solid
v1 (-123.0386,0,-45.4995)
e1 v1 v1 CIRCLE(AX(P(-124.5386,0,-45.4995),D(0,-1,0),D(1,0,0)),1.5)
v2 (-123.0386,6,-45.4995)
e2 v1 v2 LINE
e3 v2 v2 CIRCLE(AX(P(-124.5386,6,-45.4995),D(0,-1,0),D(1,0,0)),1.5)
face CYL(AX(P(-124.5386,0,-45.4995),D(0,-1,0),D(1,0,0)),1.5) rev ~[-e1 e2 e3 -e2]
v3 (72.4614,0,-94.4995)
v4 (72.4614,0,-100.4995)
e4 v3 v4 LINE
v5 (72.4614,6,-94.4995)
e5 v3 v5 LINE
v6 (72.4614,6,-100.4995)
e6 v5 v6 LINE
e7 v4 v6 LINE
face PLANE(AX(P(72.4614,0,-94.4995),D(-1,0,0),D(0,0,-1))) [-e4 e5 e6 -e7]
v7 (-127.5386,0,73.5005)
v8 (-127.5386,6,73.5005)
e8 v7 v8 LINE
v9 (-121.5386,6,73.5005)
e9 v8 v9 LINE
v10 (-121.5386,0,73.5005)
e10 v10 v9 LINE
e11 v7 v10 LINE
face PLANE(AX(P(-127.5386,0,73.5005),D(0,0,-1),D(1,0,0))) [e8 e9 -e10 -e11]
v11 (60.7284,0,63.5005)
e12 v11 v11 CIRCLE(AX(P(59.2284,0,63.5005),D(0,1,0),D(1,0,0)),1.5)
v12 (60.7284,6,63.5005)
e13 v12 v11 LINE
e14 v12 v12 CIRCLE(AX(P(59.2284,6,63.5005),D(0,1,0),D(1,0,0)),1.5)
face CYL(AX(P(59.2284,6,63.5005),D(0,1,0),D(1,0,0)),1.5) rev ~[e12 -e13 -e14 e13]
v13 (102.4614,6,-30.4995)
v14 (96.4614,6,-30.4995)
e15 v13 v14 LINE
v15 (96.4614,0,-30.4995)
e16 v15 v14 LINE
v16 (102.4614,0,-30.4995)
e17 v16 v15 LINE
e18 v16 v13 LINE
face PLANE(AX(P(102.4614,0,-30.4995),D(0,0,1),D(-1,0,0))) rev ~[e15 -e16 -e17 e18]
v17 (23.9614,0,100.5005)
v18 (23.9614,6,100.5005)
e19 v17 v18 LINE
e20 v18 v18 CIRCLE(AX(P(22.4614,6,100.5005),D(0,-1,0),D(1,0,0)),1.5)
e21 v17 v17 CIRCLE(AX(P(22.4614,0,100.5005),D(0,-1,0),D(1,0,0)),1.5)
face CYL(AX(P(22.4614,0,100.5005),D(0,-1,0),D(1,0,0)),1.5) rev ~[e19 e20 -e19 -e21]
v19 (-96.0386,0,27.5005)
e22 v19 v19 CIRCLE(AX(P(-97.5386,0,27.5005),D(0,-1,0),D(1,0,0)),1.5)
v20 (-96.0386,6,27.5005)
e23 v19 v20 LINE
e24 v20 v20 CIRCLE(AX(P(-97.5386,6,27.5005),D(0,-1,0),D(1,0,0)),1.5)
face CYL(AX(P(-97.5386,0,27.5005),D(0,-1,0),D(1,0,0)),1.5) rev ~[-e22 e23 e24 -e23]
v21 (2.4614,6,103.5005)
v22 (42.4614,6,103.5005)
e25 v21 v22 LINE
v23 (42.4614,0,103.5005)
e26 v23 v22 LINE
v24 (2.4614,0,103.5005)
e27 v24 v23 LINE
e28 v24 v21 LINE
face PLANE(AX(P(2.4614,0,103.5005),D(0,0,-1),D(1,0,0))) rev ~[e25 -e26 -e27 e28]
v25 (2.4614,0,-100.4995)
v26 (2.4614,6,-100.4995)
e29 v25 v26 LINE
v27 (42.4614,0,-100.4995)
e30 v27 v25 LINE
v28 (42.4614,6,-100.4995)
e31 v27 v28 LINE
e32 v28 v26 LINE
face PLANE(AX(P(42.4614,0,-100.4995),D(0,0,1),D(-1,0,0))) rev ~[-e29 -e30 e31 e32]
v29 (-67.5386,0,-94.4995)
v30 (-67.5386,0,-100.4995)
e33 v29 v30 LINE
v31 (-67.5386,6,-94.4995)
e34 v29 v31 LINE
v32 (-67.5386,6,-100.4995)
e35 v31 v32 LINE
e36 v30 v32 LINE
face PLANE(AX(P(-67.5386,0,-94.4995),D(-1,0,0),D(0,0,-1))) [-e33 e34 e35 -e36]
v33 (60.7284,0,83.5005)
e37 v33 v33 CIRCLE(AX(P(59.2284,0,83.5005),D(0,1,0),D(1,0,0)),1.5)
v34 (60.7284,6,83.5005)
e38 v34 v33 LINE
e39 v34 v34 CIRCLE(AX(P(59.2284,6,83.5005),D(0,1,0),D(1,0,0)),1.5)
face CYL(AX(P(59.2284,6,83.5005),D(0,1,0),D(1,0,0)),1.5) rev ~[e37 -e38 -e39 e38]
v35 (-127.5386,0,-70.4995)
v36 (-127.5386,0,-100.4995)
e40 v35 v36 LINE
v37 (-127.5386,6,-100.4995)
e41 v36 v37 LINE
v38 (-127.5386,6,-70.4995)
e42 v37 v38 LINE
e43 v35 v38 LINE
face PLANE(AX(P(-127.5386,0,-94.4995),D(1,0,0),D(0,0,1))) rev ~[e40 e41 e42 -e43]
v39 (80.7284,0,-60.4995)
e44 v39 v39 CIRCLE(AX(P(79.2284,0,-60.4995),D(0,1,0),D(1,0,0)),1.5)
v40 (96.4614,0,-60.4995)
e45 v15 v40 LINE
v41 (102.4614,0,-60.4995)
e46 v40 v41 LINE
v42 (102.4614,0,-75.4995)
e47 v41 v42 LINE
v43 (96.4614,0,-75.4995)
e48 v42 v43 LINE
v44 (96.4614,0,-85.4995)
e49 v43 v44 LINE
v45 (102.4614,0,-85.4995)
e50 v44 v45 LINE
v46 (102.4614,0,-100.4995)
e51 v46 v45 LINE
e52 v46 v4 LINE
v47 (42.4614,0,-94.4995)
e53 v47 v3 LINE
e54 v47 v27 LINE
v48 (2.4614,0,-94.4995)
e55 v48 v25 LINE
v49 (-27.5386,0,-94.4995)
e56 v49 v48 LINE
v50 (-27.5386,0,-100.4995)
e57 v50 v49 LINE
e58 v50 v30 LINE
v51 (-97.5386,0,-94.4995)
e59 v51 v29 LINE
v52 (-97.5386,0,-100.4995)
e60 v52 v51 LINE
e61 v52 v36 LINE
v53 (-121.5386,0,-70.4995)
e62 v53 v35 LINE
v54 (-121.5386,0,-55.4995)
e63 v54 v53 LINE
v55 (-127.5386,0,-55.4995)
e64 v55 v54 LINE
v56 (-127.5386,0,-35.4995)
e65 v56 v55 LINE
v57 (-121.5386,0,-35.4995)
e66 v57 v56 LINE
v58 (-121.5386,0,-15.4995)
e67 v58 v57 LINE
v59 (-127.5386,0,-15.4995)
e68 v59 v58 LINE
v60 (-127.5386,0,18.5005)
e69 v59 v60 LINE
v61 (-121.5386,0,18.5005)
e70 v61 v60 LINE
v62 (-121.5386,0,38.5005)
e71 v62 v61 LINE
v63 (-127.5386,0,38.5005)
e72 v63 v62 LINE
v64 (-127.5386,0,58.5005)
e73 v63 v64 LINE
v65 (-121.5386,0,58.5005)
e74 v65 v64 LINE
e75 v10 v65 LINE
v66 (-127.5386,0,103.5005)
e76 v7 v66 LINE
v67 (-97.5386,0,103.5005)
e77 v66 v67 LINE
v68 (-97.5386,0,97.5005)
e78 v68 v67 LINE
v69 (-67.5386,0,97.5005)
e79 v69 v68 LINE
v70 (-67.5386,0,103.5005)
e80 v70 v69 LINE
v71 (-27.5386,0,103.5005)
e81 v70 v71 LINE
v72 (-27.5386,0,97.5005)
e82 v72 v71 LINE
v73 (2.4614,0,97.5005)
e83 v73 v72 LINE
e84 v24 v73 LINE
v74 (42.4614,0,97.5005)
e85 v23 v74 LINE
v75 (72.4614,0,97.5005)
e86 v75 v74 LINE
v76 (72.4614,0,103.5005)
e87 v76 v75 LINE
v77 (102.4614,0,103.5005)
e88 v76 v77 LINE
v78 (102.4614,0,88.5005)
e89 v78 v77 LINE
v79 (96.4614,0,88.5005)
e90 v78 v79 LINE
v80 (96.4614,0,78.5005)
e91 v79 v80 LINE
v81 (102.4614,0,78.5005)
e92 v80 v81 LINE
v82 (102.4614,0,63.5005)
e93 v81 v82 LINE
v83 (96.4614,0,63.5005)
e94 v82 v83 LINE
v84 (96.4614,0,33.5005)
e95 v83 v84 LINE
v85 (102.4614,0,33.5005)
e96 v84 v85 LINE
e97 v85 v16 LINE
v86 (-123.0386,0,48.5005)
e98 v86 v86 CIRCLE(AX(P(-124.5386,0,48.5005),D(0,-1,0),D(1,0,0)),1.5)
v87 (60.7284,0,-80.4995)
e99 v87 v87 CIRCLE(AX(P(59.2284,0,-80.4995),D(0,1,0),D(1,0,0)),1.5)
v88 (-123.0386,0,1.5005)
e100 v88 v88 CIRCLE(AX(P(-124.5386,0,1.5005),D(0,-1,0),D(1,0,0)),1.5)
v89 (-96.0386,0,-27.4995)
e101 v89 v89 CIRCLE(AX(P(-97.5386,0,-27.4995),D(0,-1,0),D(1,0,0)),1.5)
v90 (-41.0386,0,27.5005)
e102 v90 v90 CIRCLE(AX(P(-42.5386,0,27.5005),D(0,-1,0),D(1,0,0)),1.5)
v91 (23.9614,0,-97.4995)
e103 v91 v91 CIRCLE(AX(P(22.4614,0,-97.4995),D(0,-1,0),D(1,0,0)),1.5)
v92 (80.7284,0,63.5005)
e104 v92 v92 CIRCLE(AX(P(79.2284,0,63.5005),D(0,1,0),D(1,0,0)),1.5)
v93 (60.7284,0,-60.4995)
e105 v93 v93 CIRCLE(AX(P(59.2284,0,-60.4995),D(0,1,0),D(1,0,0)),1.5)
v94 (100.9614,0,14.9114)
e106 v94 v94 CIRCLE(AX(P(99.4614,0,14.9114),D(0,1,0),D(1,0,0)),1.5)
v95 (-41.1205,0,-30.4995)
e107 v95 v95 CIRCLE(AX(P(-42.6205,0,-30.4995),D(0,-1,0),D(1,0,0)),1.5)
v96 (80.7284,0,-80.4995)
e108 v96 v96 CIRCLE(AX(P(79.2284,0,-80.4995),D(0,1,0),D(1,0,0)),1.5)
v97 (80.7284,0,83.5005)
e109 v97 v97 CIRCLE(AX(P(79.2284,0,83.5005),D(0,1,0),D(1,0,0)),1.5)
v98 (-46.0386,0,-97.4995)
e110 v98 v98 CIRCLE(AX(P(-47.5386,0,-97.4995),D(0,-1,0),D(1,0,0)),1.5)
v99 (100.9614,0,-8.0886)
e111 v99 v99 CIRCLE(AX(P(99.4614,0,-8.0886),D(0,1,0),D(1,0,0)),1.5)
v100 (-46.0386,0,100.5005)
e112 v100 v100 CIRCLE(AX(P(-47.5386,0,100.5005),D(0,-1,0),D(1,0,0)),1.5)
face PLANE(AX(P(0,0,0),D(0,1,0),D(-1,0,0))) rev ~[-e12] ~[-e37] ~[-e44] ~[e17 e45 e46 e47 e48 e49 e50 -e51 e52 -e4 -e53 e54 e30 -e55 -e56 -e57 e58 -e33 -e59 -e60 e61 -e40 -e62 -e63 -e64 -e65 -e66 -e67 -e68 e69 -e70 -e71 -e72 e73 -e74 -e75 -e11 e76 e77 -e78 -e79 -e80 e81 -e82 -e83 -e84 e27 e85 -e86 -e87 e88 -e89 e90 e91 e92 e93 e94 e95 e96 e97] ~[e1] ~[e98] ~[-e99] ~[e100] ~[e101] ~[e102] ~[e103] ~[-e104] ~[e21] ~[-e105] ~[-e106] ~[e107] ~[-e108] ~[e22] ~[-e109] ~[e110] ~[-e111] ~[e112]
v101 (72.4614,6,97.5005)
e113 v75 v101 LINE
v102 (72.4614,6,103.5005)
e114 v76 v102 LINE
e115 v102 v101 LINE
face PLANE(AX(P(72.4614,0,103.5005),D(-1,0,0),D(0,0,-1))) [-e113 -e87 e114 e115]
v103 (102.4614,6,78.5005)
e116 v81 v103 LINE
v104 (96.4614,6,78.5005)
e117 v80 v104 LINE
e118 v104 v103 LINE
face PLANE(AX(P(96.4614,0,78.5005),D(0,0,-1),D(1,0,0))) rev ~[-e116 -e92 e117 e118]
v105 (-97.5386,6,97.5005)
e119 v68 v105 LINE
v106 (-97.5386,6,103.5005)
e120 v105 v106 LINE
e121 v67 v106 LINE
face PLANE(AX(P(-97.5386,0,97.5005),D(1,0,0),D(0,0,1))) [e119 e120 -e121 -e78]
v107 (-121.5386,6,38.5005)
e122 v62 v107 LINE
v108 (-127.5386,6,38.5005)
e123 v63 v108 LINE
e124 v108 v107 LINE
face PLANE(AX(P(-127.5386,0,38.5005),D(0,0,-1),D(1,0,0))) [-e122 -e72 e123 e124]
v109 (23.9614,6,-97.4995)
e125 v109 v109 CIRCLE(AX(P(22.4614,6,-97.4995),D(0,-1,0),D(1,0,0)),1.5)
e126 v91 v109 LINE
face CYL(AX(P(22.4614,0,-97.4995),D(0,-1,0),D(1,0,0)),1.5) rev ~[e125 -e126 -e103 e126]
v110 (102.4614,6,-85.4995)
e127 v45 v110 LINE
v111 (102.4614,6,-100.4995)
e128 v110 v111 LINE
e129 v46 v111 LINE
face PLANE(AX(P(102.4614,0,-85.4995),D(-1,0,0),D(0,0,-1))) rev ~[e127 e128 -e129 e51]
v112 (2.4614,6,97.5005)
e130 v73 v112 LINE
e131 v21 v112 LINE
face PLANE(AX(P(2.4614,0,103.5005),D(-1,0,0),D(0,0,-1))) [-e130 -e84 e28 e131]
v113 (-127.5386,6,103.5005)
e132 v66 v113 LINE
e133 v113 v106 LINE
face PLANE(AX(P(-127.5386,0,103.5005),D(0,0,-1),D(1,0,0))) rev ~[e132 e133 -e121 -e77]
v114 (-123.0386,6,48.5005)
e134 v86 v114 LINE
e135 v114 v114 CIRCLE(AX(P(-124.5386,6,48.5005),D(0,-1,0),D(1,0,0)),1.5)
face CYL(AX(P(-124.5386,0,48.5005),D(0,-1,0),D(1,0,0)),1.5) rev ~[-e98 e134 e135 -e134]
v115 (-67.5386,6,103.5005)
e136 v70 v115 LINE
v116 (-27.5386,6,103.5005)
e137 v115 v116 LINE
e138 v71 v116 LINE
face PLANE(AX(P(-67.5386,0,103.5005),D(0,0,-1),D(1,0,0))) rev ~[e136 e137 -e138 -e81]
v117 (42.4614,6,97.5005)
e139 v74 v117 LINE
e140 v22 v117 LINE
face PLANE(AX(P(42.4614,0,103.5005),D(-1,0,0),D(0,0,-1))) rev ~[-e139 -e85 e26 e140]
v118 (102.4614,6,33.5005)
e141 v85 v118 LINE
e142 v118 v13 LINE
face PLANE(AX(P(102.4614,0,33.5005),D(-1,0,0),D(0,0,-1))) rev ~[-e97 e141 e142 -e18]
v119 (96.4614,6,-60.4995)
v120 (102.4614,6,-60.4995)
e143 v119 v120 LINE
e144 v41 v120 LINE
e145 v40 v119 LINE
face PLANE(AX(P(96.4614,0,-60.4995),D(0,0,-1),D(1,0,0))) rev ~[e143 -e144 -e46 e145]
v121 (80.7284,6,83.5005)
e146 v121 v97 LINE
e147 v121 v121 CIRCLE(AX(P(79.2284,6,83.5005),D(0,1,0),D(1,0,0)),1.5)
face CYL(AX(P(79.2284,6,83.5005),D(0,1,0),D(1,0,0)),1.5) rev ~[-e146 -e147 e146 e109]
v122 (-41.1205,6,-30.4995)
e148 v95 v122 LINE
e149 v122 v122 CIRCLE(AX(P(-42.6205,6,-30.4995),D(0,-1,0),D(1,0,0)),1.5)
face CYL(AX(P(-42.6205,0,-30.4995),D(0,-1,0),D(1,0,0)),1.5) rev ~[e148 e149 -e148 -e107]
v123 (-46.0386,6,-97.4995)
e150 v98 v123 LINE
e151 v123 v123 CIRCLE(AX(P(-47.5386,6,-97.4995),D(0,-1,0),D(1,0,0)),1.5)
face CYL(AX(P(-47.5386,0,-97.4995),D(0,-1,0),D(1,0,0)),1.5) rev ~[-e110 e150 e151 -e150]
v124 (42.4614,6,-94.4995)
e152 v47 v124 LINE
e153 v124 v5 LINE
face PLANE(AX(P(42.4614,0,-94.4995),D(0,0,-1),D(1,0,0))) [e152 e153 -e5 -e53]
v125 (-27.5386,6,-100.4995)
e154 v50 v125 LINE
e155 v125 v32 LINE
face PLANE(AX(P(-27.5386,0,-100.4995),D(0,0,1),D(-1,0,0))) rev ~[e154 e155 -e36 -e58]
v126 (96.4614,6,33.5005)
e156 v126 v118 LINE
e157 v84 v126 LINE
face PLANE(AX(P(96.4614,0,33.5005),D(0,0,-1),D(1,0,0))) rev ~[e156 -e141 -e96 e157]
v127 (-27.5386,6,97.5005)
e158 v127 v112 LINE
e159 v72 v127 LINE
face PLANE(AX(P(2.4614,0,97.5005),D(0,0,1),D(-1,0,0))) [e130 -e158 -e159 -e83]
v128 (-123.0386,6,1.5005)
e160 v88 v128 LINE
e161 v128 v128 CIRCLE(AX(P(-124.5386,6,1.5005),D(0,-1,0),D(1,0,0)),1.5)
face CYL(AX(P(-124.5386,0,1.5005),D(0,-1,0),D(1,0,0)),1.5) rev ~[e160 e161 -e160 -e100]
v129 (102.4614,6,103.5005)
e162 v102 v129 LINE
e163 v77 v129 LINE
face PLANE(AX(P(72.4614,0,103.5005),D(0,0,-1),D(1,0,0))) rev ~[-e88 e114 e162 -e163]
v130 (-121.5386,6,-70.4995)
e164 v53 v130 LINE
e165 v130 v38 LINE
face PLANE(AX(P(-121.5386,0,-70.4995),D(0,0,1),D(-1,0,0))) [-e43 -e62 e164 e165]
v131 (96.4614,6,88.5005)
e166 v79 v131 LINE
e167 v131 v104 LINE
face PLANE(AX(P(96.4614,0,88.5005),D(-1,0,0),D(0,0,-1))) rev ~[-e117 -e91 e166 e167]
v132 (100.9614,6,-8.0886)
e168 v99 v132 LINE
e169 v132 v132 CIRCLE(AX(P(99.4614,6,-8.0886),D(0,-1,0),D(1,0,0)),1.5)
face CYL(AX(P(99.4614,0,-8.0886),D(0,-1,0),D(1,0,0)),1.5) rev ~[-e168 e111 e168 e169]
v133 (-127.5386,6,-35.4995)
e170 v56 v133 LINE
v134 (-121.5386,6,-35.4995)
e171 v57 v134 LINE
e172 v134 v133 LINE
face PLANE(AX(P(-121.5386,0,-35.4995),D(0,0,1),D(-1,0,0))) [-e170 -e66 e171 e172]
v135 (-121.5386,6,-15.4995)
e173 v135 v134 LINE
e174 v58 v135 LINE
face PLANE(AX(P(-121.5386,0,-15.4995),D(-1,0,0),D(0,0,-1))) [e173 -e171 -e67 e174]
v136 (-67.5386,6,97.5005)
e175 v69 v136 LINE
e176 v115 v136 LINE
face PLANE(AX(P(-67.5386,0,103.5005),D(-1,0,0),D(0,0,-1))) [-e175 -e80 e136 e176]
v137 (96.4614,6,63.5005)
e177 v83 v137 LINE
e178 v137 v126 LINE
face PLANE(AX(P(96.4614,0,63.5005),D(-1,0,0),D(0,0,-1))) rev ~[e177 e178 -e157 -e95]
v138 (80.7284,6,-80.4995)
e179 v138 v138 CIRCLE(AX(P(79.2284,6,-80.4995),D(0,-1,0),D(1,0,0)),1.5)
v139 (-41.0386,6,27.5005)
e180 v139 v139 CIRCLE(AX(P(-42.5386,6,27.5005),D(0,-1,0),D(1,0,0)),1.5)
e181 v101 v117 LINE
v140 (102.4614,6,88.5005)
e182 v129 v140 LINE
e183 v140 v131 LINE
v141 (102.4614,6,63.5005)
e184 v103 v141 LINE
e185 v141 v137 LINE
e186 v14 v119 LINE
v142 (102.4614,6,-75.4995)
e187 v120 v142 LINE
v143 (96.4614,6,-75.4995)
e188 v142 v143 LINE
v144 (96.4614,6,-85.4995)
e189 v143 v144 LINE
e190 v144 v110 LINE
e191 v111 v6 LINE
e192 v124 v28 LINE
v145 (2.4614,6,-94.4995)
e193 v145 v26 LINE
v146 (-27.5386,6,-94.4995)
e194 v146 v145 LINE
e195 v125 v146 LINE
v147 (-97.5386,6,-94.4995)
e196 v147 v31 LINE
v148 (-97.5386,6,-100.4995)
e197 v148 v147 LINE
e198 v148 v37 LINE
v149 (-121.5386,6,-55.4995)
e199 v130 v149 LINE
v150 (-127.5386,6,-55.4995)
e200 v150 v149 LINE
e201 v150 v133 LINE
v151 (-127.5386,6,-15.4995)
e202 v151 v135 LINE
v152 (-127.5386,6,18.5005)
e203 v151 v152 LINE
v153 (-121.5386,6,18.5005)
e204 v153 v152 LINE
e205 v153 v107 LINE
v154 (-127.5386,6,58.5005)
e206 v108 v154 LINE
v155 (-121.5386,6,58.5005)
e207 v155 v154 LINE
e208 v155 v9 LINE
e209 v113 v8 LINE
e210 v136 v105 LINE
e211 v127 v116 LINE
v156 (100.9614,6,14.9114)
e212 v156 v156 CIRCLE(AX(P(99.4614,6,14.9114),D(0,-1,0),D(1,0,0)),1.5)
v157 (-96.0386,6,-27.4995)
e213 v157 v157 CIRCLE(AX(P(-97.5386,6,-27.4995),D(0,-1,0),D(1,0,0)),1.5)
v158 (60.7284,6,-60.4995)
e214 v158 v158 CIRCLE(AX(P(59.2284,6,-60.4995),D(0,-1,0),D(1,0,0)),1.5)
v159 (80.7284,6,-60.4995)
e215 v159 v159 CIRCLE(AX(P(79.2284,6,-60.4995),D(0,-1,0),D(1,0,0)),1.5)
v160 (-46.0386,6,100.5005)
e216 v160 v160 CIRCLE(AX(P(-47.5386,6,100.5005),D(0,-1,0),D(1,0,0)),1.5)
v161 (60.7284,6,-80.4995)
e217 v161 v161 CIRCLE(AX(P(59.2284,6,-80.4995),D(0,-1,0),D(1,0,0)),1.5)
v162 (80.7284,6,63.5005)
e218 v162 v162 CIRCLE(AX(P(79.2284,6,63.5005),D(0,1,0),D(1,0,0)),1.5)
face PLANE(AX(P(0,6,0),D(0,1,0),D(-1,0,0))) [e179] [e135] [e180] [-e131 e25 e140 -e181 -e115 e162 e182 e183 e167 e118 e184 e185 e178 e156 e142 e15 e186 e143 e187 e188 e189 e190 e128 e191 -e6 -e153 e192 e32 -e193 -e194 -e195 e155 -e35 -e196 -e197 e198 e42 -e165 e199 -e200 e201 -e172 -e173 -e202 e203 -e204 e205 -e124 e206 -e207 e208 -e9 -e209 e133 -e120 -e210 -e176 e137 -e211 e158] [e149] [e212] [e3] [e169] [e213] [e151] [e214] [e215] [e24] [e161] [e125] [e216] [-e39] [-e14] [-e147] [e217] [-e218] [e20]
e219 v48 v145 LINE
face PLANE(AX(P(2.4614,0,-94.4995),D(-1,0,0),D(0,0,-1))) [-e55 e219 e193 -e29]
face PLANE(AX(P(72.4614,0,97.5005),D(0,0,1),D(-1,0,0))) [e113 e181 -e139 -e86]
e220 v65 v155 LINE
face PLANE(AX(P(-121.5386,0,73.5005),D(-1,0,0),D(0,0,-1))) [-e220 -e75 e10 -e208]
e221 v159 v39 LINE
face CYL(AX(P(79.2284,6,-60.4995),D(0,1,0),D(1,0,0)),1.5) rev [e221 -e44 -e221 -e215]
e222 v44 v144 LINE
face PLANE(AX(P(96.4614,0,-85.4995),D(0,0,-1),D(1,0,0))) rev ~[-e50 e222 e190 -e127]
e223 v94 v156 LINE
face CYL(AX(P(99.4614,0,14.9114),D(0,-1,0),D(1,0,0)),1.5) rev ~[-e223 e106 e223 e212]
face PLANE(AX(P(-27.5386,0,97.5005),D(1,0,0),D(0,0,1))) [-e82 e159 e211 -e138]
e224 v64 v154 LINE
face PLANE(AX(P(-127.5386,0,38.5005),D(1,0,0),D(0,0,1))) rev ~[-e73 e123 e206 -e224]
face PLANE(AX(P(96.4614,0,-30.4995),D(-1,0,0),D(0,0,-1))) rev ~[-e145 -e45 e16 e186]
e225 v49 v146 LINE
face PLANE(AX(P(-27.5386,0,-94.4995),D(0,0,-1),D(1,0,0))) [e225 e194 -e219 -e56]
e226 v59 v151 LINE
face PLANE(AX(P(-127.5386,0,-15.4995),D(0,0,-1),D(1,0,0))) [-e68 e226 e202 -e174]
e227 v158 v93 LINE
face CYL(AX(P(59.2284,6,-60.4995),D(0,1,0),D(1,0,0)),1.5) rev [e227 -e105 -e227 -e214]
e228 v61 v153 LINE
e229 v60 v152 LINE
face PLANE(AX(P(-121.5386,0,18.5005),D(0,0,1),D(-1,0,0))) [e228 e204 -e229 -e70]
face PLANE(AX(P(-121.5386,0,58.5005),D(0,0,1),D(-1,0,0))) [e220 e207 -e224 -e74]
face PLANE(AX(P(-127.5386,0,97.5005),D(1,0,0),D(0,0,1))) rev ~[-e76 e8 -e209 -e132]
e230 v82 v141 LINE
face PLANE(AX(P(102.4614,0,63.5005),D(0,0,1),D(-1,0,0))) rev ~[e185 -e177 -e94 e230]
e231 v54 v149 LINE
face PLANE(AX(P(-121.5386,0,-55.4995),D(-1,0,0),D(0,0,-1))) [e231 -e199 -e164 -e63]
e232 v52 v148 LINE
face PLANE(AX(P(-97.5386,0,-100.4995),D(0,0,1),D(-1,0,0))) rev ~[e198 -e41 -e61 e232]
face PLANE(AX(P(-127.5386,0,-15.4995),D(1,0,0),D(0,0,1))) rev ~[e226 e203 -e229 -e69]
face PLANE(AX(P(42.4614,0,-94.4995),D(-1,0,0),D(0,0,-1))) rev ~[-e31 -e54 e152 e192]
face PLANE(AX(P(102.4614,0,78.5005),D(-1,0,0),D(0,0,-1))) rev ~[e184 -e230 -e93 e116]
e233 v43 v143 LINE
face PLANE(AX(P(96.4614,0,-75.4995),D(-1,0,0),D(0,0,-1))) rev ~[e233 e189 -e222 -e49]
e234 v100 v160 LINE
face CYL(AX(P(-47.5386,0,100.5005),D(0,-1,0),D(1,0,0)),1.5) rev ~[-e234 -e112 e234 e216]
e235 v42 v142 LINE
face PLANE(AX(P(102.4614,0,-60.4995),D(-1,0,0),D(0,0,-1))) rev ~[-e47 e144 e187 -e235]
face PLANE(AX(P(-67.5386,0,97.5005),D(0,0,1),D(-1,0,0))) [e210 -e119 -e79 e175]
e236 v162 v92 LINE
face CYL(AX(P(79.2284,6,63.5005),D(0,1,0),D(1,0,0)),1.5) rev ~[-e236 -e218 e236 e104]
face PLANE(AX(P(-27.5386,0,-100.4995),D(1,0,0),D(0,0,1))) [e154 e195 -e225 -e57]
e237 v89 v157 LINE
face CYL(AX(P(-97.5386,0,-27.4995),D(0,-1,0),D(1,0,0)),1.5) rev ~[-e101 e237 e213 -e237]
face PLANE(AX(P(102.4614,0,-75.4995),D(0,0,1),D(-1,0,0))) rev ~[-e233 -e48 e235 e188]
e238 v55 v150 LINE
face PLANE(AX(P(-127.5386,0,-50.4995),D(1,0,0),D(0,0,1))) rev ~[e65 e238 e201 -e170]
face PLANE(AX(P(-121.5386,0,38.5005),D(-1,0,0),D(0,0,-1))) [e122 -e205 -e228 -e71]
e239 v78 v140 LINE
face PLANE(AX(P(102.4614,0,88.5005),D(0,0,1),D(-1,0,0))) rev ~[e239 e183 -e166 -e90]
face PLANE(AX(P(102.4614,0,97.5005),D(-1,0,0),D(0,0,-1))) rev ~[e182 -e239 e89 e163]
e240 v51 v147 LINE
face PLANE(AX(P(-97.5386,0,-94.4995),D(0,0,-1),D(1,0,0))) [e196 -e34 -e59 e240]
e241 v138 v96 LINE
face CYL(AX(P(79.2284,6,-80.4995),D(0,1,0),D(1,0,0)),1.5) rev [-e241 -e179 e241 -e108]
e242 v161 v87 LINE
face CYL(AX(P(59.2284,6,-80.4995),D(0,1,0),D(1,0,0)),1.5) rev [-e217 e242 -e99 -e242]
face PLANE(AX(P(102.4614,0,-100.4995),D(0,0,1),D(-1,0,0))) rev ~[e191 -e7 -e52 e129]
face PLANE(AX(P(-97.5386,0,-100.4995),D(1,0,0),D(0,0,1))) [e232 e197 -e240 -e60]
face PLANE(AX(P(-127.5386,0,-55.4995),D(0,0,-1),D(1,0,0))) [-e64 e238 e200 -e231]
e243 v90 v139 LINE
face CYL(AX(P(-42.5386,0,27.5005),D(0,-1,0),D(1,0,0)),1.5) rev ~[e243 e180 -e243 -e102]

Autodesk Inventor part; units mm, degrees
ref_plane "YZ Plane" through (0, 0, 0) normal (1, 0, 0) x (0, 1, 0)
ref_plane "XZ Plane" through (0, 0, 0) normal (0, 1, 0) x (-1, 0, 0)
ref_plane "XY Plane" through (0, 0, 0) normal (0, 0, 1) x (1, 0, 0)
sketch "Эскиз1" plane through (0, 0, 0) normal (0, 1, 0) x (-1, 0, 0)
  line L0 (127.5386, 103.5005) -> (-102.4614, 103.5005)
  line L1 (-102.4614, 103.5005) -> (-102.4614, -100.4995)
  line L2 (-102.4614, -100.4995) -> (127.5386, -100.4995)
  line L3 (127.5386, -100.4995) -> (127.5386, 103.5005)
  line L4 (127.5386, -100.4995) -> (97.5386, -100.4995)
  line L5 (97.5386, -100.4995) -> (97.5386, -94.4995)
  line L6 (97.5386, -94.4995) -> (127.5386, -94.4995)
  line L7 (127.5386, -94.4995) -> (127.5386, -100.4995)
  line L8 (97.5386, -94.4995) -> (67.5386, -94.4995)
  line L9 (67.5386, -94.4995) -> (67.5386, -100.4995)
  line L10 (67.5386, -100.4995) -> (97.5386, -100.4995)
  line L11 (97.5386, -100.4995) -> (97.5386, -94.4995)
  line L12 (6.9803, -100.4995) -> (67.5386, -100.4995)
  line L13 (67.5386, -100.4995) -> (67.5386, -94.4995)
  line L14 (-42.4614, -94.4995) -> (-42.4614, -100.4995)
  line L15 (-42.4614, -100.4995) -> (-2.4614, -100.4995)
  line L16 (-42.4614, -94.4995) -> (-72.4614, -94.4995)
  line L17 (-72.4614, -94.4995) -> (-72.4614, -100.4995)
  line L18 (-72.4614, -100.4995) -> (-42.4614, -100.4995)
  line L19 (-42.4614, -100.4995) -> (-42.4614, -94.4995)
  line L20 (-72.4614, -94.4995) -> (-102.4614, -94.4995)
  line L21 (-102.4614, -94.4995) -> (-102.4614, -100.4995)
  line L22 (-102.4614, -100.4995) -> (-72.4614, -100.4995)
  line L23 (-72.4614, -100.4995) -> (-72.4614, -94.4995)
  line L24 (-42.4614, -94.4995) -> (-2.4614, -94.4995)
  line L25 (-2.4614, -94.4995) -> (-2.4614, -100.4995)
  line L26 (-2.4614, -100.4995) -> (-42.4614, -100.4995)
  line L27 (-42.4614, -100.4995) -> (-42.4614, -94.4995)
  line L28 (-2.4614, -100.4995) -> (27.5386, -100.4995)
  line L29 (27.5386, -100.4995) -> (27.5386, -94.4995)
  line L30 (27.5386, -94.4995) -> (-2.4614, -94.4995)
  line L31 (-2.4614, -94.4995) -> (-2.4614, -100.4995)
  line L32 (67.5386, -94.4995) -> (27.5386, -94.4995)
  line L33 (27.5386, -94.4995) -> (27.5386, -100.4995)
  line L34 (27.5386, -100.4995) -> (67.5386, -100.4995)
  line L35 (67.5386, -100.4995) -> (67.5386, -94.4995)
  line L36 (-102.4614, 97.5005) -> (127.5386, 97.5005)
  line L37 (127.5386, 97.5005) -> (97.5386, 97.5005)
  line L38 (97.5386, 97.5005) -> (97.5386, 103.5005)
  line L39 (97.5386, 103.5005) -> (127.5386, 103.5005)
  line L40 (127.5386, 103.5005) -> (127.5386, 97.5005)
  line L41 (97.5386, 103.5005) -> (67.5386, 103.5005)
  line L42 (67.5386, 103.5005) -> (67.5386, 97.5005)
  line L43 (67.5386, 97.5005) -> (97.5386, 97.5005)
  line L44 (97.5386, 97.5005) -> (97.5386, 103.5005)
  line L45 (6.9803, 97.5005) -> (67.5386, 97.5005)
  line L46 (67.5386, 97.5005) -> (67.5386, 103.5005)
  line L47 (-42.4614, 103.5005) -> (-42.4614, 97.5005)
  line L48 (-42.4614, 97.5005) -> (-2.4614, 97.5005)
  line L49 (-42.4614, 103.5005) -> (-72.4614, 103.5005)
  line L50 (-72.4614, 103.5005) -> (-72.4614, 97.5005)
  line L51 (-72.4614, 97.5005) -> (-42.4614, 97.5005)
  line L52 (-42.4614, 97.5005) -> (-42.4614, 103.5005)
  line L53 (-72.4614, 103.5005) -> (-102.4614, 103.5005)
  line L54 (-102.4614, 103.5005) -> (-102.4614, 97.5005)
  line L55 (-102.4614, 97.5005) -> (-72.4614, 97.5005)
  line L56 (-72.4614, 97.5005) -> (-72.4614, 103.5005)
  line L57 (-42.4614, 103.5005) -> (-2.4614, 103.5005)
  line L58 (-2.4614, 103.5005) -> (-2.4614, 97.5005)
  line L59 (-2.4614, 97.5005) -> (-42.4614, 97.5005)
  line L60 (-42.4614, 97.5005) -> (-42.4614, 103.5005)
  line L61 (-2.4614, 97.5005) -> (27.5386, 97.5005)
  line L62 (27.5386, 97.5005) -> (27.5386, 103.5005)
  line L63 (27.5386, 103.5005) -> (-2.4614, 103.5005)
  line L64 (-2.4614, 103.5005) -> (-2.4614, 97.5005)
  line L65 (67.5386, 103.5005) -> (27.5386, 103.5005)
  line L66 (27.5386, 103.5005) -> (27.5386, 97.5005)
  line L67 (27.5386, 97.5005) -> (67.5386, 97.5005)
  line L68 (67.5386, 97.5005) -> (67.5386, 103.5005)
  line L69 (-102.4614, 63.5005) -> (-96.4614, 63.5005)
  line L70 (-96.4614, 63.5005) -> (-96.4614, 33.5005)
  line L71 (-96.4614, 33.5005) -> (-102.4614, 33.5005)
  line L72 (-102.4614, 33.5005) -> (-102.4614, 63.5005)
  line L73 (-102.4614, -30.4995) -> (-96.4614, -30.4995)
  line L74 (-96.4614, -30.4995) -> (-96.4614, -60.4995)
  line L75 (-96.4614, -60.4995) -> (-102.4614, -60.4995)
  line L76 (-102.4614, -60.4995) -> (-102.4614, -30.4995)
  line L77 (127.5386, 63.5005) -> (121.5386, 63.5005)
  line L78 (121.5386, 33.5005) -> (127.5386, 33.5005)
  line L79 (127.5386, 33.5005) -> (127.5386, 63.5005)
  line L80 (127.5386, -50.4995) -> (93.2543, -50.4995)
  line L81 (121.5386, -60.4995) -> (127.5386, -60.4995)
  line L82 (127.5386, -60.4995) -> (127.5386, -50.4995)
  line L83 (-102.4614, 88.5005) -> (-96.4614, 88.5005)
  line L84 (-96.4614, 88.5005) -> (-96.4614, 78.5005)
  line L85 (-96.4614, 78.5005) -> (-102.4614, 78.5005)
  line L86 (-102.4614, 78.5005) -> (-102.4614, 88.5005)
  line L87 (-102.4614, -75.4995) -> (-96.4614, -75.4995)
  line L88 (-96.4614, -75.4995) -> (-96.4614, -85.4995)
  line L89 (-96.4614, -85.4995) -> (-102.4614, -85.4995)
  line L90 (-102.4614, -85.4995) -> (-102.4614, -75.4995)
  line L91 (127.5386, 73.5005) -> (121.5386, 73.5005)
  line L92 (121.5386, 73.5005) -> (121.5386, 58.5005)
  line L93 (121.5386, 58.5005) -> (127.5386, 58.5005)
  line L94 (127.5386, 58.5005) -> (127.5386, 73.5005)
  line L95 (127.5386, -55.4995) -> (121.5386, -55.4995)
  line L96 (121.5386, -55.4995) -> (121.5386, -70.4995)
  line L97 (121.5386, -70.4995) -> (127.5386, -70.4995)
  line L98 (127.5386, -70.4995) -> (127.5386, -55.4995)
  line L99 (127.5386, 38.5005) -> (121.5386, 38.5005)
  line L100 (121.5386, 38.5005) -> (121.5386, 18.5005)
  line L101 (121.5386, 18.5005) -> (127.5386, 18.5005)
  line L102 (127.5386, 18.5005) -> (127.5386, 38.5005)
  line L103 (127.5386, -15.4995) -> (121.5386, -15.4995)
  line L104 (121.5386, -15.4995) -> (121.5386, -35.4995)
  line L105 (121.5386, -35.4995) -> (127.5386, -35.4995)
  line L106 (127.5386, -35.4995) -> (127.5386, -15.4995)
  point P0 (0, 0)
  point P1 (-42.4614, -97.4995)
  point P2 (67.5386, -97.4995)
  point P3 (-42.4614, 100.5005)
  point P4 (67.5386, 100.5005)
  point P5 (-99.4614, -60.4995)
  point P6 (97.5386, 103.5005)
  point P7 (67.5386, 103.5005)
  point P8 (27.5386, 103.5005)
  point P9 (27.5386, 97.5005)
  point P10 (-2.4614, 103.5005)
  point P11 (-42.4614, 103.5005)
  point P12 (-102.4614, 33.5005)
  point P13 (-2.4614, -100.4995)
  point P14 (124.5386, 63.5005)
  point P15 (124.5386, -60.4995)
  point P16 (127.5386, 33.5005)
  point P17 (127.5386, 97.5005)
  point P18 (-102.4614, 97.5005)
  point P19 (97.5386, 97.5005)
  point P20 (27.5386, 103.5005)
  point P21 (-2.4614, 97.5005)
  point P22 (27.5386, 97.5005)
  point P23 (-2.4614, -100.4995)
  point P24 (-99.4614, 88.5005)
  point P25 (-99.4614, 78.5005)
  point P26 (-99.4614, 63.5005)
  point P27 (-99.4614, -75.4995)
  point P28 (124.5386, 73.5005)
  point P29 (124.5386, 58.5005)
  point P30 (124.5386, -70.4995)
  point P31 (124.5386, 38.5005)
  point P32 (124.5386, -55.4995)
  point P33 (124.5386, -35.4995)
  dimension "d0" = 230
  dimension "d1" = 204
  dimension "d2" = 6
  dimension "d3" = 30
  dimension "d4" = 30
  dimension "d5" = 30
  dimension "d6" = 30
  dimension "d8" = 40
  dimension "d10" = 40
  dimension "d11" = 230
  dimension "d13" = 6
  dimension "d14" = 30
  dimension "d15" = 30
  dimension "d16" = 30
  dimension "d17" = 30
  dimension "d18" = 40
  dimension "d19" = 40
  dimension "d20" = 40
  dimension "d21" = 30
  dimension "d22" = 40
  dimension "d23" = 30
  dimension "d24" = 6
  dimension "d27" = 6
  dimension "d28" = 40
  dimension "d29" = 40
  dimension "d30" = 30
  dimension "d31" = 30
  dimension "d84" = 10
  dimension "d85" = 15
  dimension "d86" = 15
  dimension "d87" = 10
  dimension "d88" = 6
  dimension "d89" = 6
  dimension "d90" = 15
  dimension "d91" = 15
  dimension "d92" = 30
  dimension "d93" = 30
  dimension "d94" = 20
  dimension "d95" = 20
  dimension "d96" = 20
  dimension "d97" = 20
extrude "Выдавливание1" add sketch "Эскиз1" along normal blind 6 contours L3 L36 L38 L0 | L3 L91 L92 L93 L99 L100 L101 L103 L104 L105 L95 L96 L97 L6 L8 L32 L30 L24 L16 L20 L1 L89 L88 L87 L75 L74 L73 L71 L70 L69 L85 L84 L83 L36 | L42 L36 L62 L0 | L58 L36 L47 L0 | L50 L36 L1 L0 | L3 L2 L5 L6 | L9 L2 L29 L32 | L20 L17 L2 L1 | L25 L2 L14 L24
sketch "Эскиз2" plane through (0, 6, 0) normal (0, 1, 0) x (1, 0, 0)
  point P0 (0, 0)
sketch "Эскиз5" plane through (0, 0, 0) normal (0, -1, 0) x (1, 0, 0)
  circle A0 centre (22.4614, 100.5005) radius 1.5
  circle A1 centre (-47.5386, 100.5005) radius 1.5
  circle A2 centre (-47.5386, -97.4995) radius 1.5
  circle A3 centre (22.4614, -97.4995) radius 1.5
  line L0 (42.4614, -100.4995) -> (2.4614, -100.4995) projected
  line L1 (-27.5386, -100.4995) -> (-67.5386, -100.4995) projected
  line L2 (42.4614, -94.4995) -> (42.4614, -100.4995) projected
  line L3 (-27.5386, -94.4995) -> (-27.5386, -100.4995) projected
  line L4 (2.4614, 103.5005) -> (42.4614, 103.5005) projected
  line L5 (-67.5386, 103.5005) -> (-27.5386, 103.5005) projected
  line L6 (2.4614, 97.5005) -> (2.4614, 103.5005) projected
  line L7 (-27.5386, 103.5005) -> (-27.5386, 97.5005) projected
  point P0 (0, 0)
  point P1 (42.4614, -97.4995)
  point P2 (2.4614, 100.5005)
  dimension "d41" = 3
  dimension "d42" = 3
  dimension "d43" = 3
  dimension "d44" = 20
  dimension "d45" = 20
  dimension "d46" = 3
  dimension "d47" = 3
  dimension "d48" = 20
  dimension "d49" = 20
extrude "Выдавливание3" cut sketch "Эскиз5" against normal through all
sketch "Эскиз6" plane through (0, 6, 0) normal (0, 1, 0) x (1, 0, 0)
  line L0 (76.6943, 94.4995) -> (62.6943, 94.4995) projected
  line L1 (62.2284, -103.5005) -> (76.2284, -103.5005) projected
  circle A0 centre (79.2284, -83.5005) radius 1.5
  circle A1 centre (59.2284, -83.5005) radius 1.5
  circle A2 centre (79.2284, -63.5005) radius 1.5
  circle A3 centre (59.2284, -63.5005) radius 1.5
  line L2 (79.2284, -159.6407) -> (79.2284, -82.1128) construction
  point P0 (0, 0)
  dimension "d52" = 3
  dimension "d53" = 20
  dimension "d54" = 20
  dimension "d55" = 20
  dimension "d56" = 20
  dimension "d57" = 20
  dimension "d58" = 20
  dimension "d59" = 3
extrude "Выдавливание4" cut sketch "Эскиз6" against normal through all
ref_plane "РабПлоскость1" through (42.4614, 0, 1.5005) normal (0, 0, -1) x (-1, 0, 0)
mirror "Зеркальное отражение1" about plane through (42.4614, 0, 1.5005) normal (0, 0, -1) of "Выдавливание4"
sketch "Эскиз7" plane through (0, 0, 0) normal (0, -1, 0) x (1, 0, 0)
  line L0 (96.4614, -60.4995) -> (96.4614, -30.4995)
  line L1 (96.4614, -30.4995) -> (102.4614, -30.4995)
  line L2 (102.4614, -30.4995) -> (102.4614, -60.4995)
  line L3 (102.4614, -60.4995) -> (96.4614, -60.4995)
  line L4 (96.4614, 39.5005) -> (96.4614, 69.5005)
  line L5 (96.4614, 69.5005) -> (102.4614, 69.5005)
  line L6 (102.4614, 69.5005) -> (102.4614, 33.5005)
  line L7 (102.4614, 39.5005) -> (96.4614, 39.5005)
  line L8 (102.4614, 13.4114) -> (96.4614, 13.4114) projected
  line L9 (96.4614, 16.4114) -> (102.4614, 16.4114) projected
  line L10 (96.4614, -6.5886) -> (102.4614, -6.5886) projected
  line L11 (102.4614, -9.5886) -> (96.4614, -9.5886) projected
  circle A0 centre (99.4614, 14.9114) radius 1.5
  circle A1 centre (99.4614, -8.0886) radius 1.5
  line L12 (102.4614, 33.5005) -> (102.4614, -30.4995) projected
  point P0 (0, 0)
  point P1 (99.4614, 13.4114)
  dimension "d62" = 3
  dimension "d63" = 3
  dimension "d64" = 3
  dimension "d65" = 3
  dimension "d66" = 1.5
  dimension "d67" = 1.5
extrude "Выдавливание5" cut sketch "Эскиз7" against normal blind 6 contours A1 | A0
sketch "Эскиз9" plane through (0, 0, 0) normal (0, -1, 0) x (1, 0, 0)
  circle A0 centre (-42.5386, 27.5005) radius 1.5
  circle A1 centre (-42.6205, -30.4995) radius 1.5
  circle A2 centre (-97.5386, -27.4995) radius 1.5
  circle A3 centre (-97.5386, 27.5005) radius 1.5
  line L0 (-127.5386, -100.4995) -> (-127.5386, 103.5005) projected
  line L1 (-97.5386, 97.5005) -> (-67.5386, 97.5005) projected
  line L2 (-27.5386, 97.5005) -> (2.4614, 97.5005) projected
  point P0 (0, 0)
  dimension "d70" = 3
  dimension "d71" = 3
  dimension "d72" = 3
  dimension "d73" = 3
  dimension "d74" = 55
  dimension "d75" = 52
  dimension "d76" = 55
  dimension "d77" = 52
  dimension "d78" = 30
  dimension "d79" = 30
  dimension "d80" = 70
  dimension "d81" = 70
extrude "Выдавливание6" cut sketch "Эскиз9" against normal up to surface (6 mm away)
sketch "Эскиз10" plane through (0, 0, 0) normal (0, -1, 0) x (1, 0, 0)
  circle A0 centre (-124.5386, 48.5005) radius 1.5
  circle A1 centre (-124.5386, 1.5005) radius 1.5
  circle A2 centre (-124.5386, -45.4995) radius 1.5
  line L0 (-127.5386, -35.4995) -> (-121.5386, -35.4995) projected
  line L1 (-127.5386, -55.4995) -> (-127.5386, -35.4995) projected
  line L2 (-127.5386, 38.5005) -> (-127.5386, 58.5005) projected
  line L3 (-121.5386, 38.5005) -> (-127.5386, 38.5005) projected
  line L4 (-127.5386, 18.5005) -> (-121.5386, 18.5005) projected
  line L5 (-127.5386, -15.4995) -> (-127.5386, 18.5005) projected
  point P0 (0, 0)
  point P1 (-124.5386, -35.4995)
  point P2 (-127.5386, 48.5005)
  point P3 (-124.5386, 18.5005)
  dimension "d98" = 3
  dimension "d99" = 3
  dimension "d100" = 3
  dimension "d101" = 10
  dimension "d102" = 3
  dimension "d103" = 3
  dimension "d104" = 10
  dimension "d105" = 17
  dimension "d106" = 3
extrude "Выдавливание7" cut sketch "Эскиз10" against normal blind 6
properties part number "Низ робота"
